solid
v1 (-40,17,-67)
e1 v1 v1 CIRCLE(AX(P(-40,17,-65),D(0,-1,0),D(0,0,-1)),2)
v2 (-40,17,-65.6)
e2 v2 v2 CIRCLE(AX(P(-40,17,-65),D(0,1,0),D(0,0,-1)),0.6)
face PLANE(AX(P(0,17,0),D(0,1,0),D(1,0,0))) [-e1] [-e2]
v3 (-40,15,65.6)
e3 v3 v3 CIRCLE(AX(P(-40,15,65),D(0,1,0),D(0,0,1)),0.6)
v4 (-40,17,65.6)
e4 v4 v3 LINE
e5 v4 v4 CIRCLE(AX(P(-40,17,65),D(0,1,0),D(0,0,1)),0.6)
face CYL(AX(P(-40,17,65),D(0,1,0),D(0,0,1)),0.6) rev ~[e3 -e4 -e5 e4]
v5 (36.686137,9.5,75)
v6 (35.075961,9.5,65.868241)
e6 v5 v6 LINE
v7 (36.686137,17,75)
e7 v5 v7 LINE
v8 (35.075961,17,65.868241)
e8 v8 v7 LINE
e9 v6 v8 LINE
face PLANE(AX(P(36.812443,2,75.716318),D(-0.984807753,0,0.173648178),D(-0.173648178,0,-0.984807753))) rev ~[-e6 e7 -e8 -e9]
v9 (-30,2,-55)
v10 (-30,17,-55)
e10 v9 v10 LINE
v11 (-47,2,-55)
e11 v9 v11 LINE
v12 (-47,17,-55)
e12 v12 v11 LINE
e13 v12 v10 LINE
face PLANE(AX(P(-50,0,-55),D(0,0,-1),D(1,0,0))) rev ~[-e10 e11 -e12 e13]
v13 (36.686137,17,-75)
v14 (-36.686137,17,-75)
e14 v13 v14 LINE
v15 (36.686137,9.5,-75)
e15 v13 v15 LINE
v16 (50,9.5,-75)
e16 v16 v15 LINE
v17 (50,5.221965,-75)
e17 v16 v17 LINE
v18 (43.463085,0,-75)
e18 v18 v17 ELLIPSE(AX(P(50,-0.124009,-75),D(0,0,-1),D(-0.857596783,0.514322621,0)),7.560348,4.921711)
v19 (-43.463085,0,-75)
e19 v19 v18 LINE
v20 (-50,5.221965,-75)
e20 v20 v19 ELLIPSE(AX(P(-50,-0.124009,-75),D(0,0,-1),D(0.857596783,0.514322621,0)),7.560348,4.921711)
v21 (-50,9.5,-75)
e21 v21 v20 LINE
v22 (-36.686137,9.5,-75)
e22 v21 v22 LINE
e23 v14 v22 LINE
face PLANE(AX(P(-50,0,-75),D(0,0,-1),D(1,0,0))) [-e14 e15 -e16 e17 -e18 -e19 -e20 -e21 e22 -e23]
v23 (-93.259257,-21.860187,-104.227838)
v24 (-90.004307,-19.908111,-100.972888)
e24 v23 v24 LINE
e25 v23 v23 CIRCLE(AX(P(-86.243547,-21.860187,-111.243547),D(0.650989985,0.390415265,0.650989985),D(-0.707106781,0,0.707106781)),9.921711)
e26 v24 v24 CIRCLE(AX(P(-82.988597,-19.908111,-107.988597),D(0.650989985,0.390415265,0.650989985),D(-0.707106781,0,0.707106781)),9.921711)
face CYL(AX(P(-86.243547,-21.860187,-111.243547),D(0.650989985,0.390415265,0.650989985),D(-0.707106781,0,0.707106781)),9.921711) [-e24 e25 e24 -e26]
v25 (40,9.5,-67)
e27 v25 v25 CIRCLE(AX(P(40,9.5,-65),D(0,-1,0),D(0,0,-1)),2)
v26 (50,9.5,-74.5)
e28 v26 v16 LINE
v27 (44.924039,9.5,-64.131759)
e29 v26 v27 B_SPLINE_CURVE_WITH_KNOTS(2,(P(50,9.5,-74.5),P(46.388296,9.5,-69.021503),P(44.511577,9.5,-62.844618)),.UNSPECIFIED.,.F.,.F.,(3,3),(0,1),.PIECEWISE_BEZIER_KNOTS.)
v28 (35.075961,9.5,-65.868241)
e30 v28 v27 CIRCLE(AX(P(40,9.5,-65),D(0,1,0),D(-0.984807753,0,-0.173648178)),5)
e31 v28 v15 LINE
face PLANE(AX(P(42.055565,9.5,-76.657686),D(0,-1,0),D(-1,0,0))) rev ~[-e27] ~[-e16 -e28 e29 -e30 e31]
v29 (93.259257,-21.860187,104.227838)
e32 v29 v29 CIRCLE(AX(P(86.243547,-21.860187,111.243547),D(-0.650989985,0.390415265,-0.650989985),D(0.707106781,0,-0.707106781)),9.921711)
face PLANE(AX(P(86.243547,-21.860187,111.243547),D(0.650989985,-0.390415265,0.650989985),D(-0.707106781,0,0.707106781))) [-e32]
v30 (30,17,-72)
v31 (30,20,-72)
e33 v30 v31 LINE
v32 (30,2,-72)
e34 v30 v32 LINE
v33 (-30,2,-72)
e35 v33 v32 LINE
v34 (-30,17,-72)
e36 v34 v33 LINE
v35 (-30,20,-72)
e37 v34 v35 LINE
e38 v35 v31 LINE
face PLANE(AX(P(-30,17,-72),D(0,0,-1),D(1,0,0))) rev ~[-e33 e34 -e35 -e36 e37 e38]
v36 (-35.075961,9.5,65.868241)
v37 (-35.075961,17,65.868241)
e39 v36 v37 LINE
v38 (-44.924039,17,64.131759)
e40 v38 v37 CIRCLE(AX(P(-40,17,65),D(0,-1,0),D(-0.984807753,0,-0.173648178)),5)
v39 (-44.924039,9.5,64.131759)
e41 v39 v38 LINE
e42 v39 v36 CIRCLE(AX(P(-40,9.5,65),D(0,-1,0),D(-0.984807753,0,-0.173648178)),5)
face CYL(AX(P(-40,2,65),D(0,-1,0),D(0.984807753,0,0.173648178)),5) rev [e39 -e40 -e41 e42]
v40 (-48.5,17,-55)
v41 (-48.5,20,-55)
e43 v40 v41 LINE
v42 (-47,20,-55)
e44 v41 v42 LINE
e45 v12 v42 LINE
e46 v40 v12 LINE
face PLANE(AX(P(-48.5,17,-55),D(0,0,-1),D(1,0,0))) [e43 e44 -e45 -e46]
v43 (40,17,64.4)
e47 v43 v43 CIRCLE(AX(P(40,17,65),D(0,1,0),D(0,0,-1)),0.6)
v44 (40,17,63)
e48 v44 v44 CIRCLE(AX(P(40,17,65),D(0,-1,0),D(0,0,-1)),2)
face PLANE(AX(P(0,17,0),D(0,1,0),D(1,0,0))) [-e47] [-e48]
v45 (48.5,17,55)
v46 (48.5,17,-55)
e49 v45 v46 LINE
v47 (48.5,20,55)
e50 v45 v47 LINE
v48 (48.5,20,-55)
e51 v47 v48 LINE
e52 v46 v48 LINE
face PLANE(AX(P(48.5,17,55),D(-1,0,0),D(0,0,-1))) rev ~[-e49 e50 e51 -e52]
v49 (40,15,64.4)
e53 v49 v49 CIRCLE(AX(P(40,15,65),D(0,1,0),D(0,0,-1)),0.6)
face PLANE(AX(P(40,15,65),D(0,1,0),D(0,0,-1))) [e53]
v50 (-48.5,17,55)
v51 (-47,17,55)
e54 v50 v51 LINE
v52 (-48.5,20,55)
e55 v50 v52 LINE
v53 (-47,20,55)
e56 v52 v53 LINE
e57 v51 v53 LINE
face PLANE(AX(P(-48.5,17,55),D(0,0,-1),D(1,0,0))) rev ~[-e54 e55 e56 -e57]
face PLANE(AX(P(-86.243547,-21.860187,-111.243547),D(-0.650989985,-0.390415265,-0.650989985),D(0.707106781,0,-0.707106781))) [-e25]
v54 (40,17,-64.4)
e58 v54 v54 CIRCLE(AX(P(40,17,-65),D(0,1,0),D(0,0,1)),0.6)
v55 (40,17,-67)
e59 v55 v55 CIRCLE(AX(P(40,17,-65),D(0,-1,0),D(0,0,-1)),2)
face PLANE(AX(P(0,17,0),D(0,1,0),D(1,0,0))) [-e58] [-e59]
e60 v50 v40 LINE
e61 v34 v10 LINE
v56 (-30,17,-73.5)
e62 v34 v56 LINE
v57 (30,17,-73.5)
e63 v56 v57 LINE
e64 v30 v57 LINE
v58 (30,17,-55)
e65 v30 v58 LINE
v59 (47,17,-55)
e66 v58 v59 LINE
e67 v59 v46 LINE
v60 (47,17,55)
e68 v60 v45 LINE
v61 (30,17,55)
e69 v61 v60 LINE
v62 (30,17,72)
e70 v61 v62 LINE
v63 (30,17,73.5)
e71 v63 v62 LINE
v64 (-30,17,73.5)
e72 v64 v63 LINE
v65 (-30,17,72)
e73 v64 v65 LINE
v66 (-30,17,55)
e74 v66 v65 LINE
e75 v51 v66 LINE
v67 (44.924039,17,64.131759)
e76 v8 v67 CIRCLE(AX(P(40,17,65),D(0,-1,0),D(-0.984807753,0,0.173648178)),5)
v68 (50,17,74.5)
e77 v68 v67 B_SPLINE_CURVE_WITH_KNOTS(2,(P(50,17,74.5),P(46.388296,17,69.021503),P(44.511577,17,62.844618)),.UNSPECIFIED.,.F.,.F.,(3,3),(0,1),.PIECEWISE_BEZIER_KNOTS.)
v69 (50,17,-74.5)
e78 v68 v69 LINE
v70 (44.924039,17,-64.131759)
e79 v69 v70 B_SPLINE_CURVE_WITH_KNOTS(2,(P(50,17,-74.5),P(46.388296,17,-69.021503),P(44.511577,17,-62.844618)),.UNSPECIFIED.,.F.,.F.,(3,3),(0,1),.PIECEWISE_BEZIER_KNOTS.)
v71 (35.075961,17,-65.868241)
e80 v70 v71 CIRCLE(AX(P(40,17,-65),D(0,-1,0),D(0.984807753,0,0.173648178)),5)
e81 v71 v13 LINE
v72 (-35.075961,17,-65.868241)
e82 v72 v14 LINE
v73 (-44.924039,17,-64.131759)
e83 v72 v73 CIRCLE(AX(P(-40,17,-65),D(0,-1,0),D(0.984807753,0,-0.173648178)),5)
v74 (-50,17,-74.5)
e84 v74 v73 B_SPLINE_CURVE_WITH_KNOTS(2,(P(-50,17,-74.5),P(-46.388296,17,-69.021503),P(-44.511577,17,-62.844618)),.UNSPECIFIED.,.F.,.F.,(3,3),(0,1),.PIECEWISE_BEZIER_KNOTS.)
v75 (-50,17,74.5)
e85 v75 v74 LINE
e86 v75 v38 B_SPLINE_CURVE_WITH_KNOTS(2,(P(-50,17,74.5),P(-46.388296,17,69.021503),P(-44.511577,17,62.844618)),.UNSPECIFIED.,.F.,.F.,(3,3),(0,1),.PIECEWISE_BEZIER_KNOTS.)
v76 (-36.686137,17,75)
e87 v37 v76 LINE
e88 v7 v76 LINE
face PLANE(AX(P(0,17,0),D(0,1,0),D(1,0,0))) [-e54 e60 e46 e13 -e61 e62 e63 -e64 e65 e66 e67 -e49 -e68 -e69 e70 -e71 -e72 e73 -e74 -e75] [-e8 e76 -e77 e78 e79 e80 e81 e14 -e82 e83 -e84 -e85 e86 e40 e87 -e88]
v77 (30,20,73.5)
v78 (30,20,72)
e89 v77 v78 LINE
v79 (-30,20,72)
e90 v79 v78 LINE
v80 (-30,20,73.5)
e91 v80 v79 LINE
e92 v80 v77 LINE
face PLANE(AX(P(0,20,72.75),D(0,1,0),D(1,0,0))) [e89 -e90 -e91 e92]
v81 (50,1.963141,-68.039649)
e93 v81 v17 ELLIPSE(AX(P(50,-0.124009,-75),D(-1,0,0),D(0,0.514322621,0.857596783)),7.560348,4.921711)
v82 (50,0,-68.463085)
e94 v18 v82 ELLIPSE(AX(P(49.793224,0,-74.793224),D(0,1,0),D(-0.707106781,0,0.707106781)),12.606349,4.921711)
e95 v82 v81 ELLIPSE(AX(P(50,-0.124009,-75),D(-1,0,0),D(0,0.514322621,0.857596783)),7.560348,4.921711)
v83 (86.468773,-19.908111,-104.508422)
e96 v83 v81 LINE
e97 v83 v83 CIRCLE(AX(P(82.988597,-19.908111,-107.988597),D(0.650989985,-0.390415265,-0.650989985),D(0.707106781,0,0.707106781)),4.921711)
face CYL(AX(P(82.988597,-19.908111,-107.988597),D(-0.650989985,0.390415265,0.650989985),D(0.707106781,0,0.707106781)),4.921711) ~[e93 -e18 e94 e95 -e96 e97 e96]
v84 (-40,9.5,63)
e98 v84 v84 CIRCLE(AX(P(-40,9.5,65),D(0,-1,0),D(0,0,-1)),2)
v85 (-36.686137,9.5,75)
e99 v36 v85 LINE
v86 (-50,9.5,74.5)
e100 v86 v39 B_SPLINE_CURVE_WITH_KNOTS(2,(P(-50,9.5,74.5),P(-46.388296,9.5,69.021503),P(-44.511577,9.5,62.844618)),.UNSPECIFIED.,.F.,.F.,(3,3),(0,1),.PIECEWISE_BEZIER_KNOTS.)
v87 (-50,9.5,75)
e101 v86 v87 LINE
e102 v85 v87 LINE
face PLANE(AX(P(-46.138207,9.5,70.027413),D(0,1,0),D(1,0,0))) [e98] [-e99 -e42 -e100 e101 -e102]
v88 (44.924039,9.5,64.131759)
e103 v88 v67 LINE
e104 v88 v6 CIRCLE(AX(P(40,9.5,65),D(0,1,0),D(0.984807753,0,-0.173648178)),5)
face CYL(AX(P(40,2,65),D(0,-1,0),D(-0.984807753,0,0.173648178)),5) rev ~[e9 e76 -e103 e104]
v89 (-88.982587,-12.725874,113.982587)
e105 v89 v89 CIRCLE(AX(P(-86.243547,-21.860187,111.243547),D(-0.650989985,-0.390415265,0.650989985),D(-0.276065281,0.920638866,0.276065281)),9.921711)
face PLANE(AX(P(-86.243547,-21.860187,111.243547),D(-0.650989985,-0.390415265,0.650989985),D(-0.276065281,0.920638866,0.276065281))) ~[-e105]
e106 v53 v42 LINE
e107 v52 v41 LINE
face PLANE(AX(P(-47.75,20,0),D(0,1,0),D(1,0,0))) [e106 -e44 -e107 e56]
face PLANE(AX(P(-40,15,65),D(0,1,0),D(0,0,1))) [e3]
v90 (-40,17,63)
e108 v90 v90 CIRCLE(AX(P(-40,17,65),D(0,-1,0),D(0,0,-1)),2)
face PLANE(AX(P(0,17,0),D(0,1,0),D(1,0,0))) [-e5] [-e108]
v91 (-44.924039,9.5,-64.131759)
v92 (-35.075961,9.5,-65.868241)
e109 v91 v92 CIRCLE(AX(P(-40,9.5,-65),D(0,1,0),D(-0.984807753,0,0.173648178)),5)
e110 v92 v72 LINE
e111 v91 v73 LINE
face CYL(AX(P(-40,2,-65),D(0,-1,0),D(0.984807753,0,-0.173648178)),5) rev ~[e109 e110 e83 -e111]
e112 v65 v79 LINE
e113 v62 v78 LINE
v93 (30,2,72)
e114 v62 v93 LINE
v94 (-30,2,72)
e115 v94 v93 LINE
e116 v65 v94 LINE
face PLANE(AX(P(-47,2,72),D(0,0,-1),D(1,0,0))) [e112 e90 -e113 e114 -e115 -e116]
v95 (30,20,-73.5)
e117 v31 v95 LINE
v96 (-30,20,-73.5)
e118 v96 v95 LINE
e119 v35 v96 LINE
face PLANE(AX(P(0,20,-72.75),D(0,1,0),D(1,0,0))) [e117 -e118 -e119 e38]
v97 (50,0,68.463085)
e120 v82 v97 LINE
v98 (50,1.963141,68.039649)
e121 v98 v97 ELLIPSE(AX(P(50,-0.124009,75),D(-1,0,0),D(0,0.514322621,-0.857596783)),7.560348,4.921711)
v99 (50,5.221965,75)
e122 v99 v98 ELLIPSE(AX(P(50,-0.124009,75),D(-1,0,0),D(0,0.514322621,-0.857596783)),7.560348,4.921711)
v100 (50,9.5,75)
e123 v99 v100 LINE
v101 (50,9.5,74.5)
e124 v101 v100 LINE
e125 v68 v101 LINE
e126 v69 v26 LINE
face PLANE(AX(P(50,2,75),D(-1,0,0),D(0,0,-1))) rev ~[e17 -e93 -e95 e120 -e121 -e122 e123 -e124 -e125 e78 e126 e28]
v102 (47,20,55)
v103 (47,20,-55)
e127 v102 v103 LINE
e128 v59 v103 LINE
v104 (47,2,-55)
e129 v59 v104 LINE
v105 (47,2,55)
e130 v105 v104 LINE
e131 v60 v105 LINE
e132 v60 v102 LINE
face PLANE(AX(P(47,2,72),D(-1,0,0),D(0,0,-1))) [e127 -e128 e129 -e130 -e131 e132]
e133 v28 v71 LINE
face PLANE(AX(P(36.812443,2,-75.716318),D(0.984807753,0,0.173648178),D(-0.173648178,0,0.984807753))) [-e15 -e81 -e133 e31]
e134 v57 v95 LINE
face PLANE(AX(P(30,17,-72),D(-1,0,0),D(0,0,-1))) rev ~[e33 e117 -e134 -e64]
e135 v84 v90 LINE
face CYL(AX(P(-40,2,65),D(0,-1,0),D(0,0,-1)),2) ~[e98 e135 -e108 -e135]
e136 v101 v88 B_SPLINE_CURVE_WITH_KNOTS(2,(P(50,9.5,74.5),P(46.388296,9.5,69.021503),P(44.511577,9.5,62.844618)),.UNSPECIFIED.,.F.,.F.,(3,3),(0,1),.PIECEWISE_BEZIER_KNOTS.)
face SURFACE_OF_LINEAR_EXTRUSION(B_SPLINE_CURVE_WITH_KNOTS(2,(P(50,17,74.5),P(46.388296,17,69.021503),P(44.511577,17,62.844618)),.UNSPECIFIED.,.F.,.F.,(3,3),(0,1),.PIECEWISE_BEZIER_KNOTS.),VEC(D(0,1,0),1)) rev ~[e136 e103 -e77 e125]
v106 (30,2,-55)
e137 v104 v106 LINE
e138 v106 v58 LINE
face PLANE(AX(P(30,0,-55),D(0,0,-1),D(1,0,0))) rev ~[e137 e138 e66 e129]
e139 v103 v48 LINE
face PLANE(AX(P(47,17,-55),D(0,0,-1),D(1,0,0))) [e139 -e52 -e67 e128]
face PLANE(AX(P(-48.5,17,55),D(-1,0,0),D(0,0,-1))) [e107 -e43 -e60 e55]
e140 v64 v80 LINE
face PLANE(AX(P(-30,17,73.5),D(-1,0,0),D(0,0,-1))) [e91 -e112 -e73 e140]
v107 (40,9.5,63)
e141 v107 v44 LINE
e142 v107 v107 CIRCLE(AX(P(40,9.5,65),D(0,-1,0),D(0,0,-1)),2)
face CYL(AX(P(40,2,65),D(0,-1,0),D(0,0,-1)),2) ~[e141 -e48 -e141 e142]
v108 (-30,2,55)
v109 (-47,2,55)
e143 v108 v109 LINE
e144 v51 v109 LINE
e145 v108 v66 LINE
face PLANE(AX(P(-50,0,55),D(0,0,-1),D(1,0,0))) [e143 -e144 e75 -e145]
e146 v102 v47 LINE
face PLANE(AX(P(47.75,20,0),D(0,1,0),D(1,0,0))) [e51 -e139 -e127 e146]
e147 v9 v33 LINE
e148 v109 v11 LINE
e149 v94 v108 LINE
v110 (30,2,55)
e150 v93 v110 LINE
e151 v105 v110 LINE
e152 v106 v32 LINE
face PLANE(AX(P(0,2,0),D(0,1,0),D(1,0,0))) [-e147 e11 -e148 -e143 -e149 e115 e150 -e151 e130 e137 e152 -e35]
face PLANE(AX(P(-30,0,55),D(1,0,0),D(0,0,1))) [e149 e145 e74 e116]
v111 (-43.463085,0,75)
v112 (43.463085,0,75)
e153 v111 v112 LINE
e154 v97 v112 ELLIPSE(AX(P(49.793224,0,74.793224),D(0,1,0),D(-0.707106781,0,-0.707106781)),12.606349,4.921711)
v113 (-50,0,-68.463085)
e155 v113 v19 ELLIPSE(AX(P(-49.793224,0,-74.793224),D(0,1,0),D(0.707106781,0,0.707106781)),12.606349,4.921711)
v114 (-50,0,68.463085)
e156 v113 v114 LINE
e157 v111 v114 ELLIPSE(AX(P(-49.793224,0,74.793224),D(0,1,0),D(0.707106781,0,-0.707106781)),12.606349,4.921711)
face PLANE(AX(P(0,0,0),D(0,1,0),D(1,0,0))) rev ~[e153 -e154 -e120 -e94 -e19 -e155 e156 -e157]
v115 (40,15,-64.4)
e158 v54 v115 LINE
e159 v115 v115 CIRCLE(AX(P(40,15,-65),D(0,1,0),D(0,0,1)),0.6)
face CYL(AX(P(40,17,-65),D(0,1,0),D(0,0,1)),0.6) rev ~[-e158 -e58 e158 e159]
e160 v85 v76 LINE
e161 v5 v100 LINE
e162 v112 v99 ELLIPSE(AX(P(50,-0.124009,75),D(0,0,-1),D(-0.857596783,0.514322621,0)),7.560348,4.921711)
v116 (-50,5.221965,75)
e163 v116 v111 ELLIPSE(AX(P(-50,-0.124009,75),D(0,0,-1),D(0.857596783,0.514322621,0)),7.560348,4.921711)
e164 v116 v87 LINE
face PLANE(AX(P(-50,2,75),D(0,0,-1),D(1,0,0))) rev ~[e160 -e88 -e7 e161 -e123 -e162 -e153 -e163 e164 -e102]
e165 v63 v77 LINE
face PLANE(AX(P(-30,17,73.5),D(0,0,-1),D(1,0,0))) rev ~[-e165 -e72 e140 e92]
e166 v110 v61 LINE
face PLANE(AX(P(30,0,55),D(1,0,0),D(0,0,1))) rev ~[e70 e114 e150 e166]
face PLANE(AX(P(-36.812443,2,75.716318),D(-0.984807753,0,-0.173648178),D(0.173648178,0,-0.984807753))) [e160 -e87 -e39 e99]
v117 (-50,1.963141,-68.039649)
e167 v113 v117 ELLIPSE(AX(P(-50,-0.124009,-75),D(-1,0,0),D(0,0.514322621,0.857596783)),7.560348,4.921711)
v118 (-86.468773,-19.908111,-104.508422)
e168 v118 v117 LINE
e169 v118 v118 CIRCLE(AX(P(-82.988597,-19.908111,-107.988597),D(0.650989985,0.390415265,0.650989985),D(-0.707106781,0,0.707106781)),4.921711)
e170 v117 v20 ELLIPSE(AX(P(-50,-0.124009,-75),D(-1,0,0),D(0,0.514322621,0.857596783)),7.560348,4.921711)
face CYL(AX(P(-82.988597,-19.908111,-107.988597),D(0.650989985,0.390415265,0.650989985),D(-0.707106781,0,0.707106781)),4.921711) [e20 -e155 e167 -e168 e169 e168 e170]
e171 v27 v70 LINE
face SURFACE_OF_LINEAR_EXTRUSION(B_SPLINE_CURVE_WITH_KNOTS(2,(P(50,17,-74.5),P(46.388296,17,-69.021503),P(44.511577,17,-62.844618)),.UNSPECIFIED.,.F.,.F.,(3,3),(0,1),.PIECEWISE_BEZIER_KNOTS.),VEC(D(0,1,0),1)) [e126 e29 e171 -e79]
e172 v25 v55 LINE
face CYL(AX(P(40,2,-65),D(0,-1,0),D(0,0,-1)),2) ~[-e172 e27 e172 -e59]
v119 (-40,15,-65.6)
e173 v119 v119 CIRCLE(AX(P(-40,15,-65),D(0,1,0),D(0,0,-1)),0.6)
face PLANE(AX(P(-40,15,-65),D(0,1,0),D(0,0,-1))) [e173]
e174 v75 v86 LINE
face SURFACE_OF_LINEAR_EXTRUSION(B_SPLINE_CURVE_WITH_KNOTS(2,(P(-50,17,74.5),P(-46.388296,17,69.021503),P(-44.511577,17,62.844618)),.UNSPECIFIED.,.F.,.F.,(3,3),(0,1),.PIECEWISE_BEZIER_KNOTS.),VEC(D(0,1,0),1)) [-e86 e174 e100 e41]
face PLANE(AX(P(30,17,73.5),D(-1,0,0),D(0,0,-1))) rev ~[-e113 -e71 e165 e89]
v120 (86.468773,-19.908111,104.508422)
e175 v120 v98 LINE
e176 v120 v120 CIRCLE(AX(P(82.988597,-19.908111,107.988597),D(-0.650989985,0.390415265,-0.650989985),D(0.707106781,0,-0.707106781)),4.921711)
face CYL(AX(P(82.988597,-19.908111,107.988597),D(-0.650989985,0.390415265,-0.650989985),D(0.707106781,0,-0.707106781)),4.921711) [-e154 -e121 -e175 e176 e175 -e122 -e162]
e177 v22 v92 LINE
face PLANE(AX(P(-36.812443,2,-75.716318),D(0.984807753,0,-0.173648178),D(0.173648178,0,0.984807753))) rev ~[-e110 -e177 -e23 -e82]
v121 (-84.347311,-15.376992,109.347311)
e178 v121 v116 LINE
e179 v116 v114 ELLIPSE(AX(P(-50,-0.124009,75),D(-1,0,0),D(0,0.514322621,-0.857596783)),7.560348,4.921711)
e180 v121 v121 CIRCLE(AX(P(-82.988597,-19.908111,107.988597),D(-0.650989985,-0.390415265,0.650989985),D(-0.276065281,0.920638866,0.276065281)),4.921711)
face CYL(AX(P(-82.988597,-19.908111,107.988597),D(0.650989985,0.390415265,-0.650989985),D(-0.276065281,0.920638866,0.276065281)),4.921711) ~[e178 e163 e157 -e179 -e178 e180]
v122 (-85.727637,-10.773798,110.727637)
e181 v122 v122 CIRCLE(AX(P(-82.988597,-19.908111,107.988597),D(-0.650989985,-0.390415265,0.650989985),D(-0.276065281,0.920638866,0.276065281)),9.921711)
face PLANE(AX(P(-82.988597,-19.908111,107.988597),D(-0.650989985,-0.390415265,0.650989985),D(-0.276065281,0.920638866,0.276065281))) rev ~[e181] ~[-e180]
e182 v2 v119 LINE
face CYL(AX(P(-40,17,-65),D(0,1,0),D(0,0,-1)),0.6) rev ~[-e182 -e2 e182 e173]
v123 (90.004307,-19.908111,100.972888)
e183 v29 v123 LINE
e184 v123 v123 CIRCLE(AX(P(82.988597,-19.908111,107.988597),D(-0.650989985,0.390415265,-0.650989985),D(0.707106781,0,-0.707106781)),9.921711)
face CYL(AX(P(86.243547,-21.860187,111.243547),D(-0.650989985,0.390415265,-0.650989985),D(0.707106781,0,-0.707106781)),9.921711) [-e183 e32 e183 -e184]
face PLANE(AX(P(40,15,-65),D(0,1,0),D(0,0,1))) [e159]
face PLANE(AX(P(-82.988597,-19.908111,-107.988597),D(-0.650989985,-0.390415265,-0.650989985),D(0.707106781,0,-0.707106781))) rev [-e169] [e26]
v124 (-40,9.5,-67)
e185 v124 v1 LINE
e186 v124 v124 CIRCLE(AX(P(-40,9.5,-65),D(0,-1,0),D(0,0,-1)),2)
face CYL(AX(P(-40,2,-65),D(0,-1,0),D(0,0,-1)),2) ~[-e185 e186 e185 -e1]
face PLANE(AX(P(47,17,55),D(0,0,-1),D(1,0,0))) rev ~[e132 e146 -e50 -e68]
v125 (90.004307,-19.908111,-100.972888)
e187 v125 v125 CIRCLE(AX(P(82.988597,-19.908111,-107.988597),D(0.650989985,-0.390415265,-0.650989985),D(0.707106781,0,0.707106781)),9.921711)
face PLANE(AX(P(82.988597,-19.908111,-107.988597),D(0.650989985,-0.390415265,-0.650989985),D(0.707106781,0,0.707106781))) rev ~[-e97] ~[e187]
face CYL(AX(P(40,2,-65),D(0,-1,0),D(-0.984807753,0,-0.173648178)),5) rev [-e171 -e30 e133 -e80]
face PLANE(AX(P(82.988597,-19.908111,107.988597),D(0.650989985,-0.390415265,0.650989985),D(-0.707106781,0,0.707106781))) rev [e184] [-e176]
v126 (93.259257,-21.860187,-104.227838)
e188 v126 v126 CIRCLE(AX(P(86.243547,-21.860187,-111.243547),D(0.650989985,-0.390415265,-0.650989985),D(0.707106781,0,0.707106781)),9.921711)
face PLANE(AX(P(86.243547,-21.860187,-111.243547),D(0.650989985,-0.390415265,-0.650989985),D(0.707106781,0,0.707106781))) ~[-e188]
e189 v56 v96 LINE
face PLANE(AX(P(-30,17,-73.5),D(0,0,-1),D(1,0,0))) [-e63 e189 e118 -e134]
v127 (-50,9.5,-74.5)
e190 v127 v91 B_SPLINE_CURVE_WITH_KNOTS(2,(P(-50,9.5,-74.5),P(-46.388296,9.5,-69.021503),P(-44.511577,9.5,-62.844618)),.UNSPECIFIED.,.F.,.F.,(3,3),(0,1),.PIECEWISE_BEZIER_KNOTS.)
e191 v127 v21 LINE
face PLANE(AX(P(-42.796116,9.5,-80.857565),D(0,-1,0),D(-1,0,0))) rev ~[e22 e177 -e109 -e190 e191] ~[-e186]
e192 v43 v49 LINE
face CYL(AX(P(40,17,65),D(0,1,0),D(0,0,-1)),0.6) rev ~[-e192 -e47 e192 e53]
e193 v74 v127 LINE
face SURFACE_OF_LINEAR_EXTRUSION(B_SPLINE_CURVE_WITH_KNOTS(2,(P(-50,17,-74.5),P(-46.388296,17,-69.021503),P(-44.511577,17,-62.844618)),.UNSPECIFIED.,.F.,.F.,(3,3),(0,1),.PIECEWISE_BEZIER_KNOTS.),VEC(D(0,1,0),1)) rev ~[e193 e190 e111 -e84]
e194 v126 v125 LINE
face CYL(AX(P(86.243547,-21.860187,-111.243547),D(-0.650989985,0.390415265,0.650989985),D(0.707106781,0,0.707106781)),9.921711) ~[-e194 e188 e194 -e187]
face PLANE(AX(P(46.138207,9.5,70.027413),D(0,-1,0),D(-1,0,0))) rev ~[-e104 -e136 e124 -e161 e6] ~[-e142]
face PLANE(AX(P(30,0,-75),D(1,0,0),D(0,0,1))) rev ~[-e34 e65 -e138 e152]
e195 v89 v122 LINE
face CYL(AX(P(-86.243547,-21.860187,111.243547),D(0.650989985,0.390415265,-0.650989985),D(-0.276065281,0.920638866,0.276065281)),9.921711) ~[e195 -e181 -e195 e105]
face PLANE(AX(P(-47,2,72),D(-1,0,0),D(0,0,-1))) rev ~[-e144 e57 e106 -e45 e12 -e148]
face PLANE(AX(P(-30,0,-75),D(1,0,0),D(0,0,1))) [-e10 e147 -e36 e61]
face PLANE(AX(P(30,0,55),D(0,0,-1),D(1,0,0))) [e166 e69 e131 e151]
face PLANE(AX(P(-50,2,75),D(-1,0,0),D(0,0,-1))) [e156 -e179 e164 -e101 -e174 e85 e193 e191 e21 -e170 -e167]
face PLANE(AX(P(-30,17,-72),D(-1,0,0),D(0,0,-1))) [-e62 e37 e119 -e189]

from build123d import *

# Parameters (mm, degrees)
CROQUIS1_W              = 100
CROQUIS1_H              = 150
SALIENTE_EXTRUIR1_DEPTH = 2
CROQUIS5_W              = 100
CROQUIS5_H              = 150
CROQUIS5_W_2            = 94
CROQUIS5_H_2            = 144
SALIENTE_EXTRUIR3_DEPTH = 15
CROQUIS6_W              = 20
CROQUIS6_H              = 20
SALIENTE_EXTRUIR4_DEPTH = 17
CROQUIS4_R              = 2
CORTAR_EXTRUIR2_DEPTH   = 92.378334412
SALIENTE_EXTRUIR5_DEPTH = 7.5
CROQUIS8_W              = 127.938872722
CROQUIS8_H              = 211.588515632
CROQUIS8_W_2            = 100
CROQUIS8_H_2            = 150
CORTAR_EXTRUIR3_DEPTH   = 115.867495711
CORTAR_EXTRUIR4_DEPTH   = 7.5
CROQUIS10_W             = 60
CROQUIS10_H             = 1.5
CROQUIS10_W_2           = 1.5
CROQUIS10_H_2           = 110
SALIENTE_EXTRUIR6_DEPTH = 3
CROQUIS12_R             = 0.6
CORTAR_EXTRUIR5_DEPTH   = 2
CORTAR_EXTRUIR7_DEPTH   = 157.655827733


with BuildPart() as part:
    # Croquis1 → Saliente-Extruir1 (new body)
    with BuildSketch(Plane(origin=(0, 0, 0), x_dir=(1, 0, 0), z_dir=(0, 1, 0))):
        Rectangle(CROQUIS1_W, CROQUIS1_H)
    extrude(amount=SALIENTE_EXTRUIR1_DEPTH)

    # Croquis5 → Saliente-Extruir3 (add)
    with BuildSketch(Plane(origin=(0, 2, 0), x_dir=(1, 0, 0), z_dir=(0, 1, 0))):
        Rectangle(CROQUIS5_W, CROQUIS5_H)
        Rectangle(CROQUIS5_W_2, CROQUIS5_H_2, mode=Mode.SUBTRACT)
    extrude(amount=SALIENTE_EXTRUIR3_DEPTH)

    # Croquis6 → Saliente-Extruir4 (add)
    with BuildSketch(Plane.XZ):
        with Locations((-40, 65)):
            Rectangle(CROQUIS6_W, CROQUIS6_H)
        with Locations((-40, -65)):
            Rectangle(CROQUIS6_W, CROQUIS6_H)
        with Locations((40, -65)):
            Rectangle(CROQUIS6_W, CROQUIS6_H)
        with Locations((40, 65)):
            Rectangle(CROQUIS6_W, CROQUIS6_H)
    extrude(amount=-SALIENTE_EXTRUIR4_DEPTH)

    # Croquis4 → Cortar-Extruir2 (cut, through all)
    # profile 1 of 4: a face of its own
    with BuildSketch(Plane(origin=(0, 2, 0), x_dir=(1, 0, 0), z_dir=(0, 1, 0))):
        with BuildLine():
            Line((-44.924038765, 64.131759112), (-46.660520542, 73.979836642))
            ThreePointArc((-46.660520542, 73.979836642), (-42.604722665, 79.772116295), (-36.812443012, 75.716318418))
            Line((-36.812443012, 75.716318418), (-35.075961235, 65.868240888))
            ThreePointArc((-35.075961235, 65.868240888), (-39.131759112, 60.075961235), (-44.924038765, 64.131759112))
        make_face()
        with Locations(Location((-40, 65, 0), (0, 0, 90))):
            Circle(CROQUIS4_R, mode=Mode.SUBTRACT)
    # profile 2 of 4: a face of its own
    with BuildSketch(Plane(origin=(0, 2, 0), x_dir=(1, 0, 0), z_dir=(0, 1, 0))):
        with BuildLine():
            Line((44.924038765, -64.131759112), (46.660520542, -73.979836642))
            ThreePointArc((46.660520542, -73.979836642), (42.604722665, -79.772116295), (36.812443012, -75.716318418))
            Line((36.812443012, -75.716318418), (35.075961235, -65.868240888))
            ThreePointArc((35.075961235, -65.868240888), (39.131759112, -60.075961235), (44.924038765, -64.131759112))
        make_face()
        with Locations(Location((40, -65, 0), (0, 0, 90))):
            Circle(CROQUIS4_R, mode=Mode.SUBTRACT)
    # profile 3 of 4: a face of its own
    with BuildSketch(Plane(origin=(0, 2, 0), x_dir=(1, 0, 0), z_dir=(0, 1, 0))):
        with BuildLine():
            Line((44.924038765, 64.131759112), (46.660520542, 73.979836642))
            ThreePointArc((46.660520542, 73.979836642), (42.604722665, 79.772116295), (36.812443012, 75.716318418))
            Line((36.812443012, 75.716318418), (35.075961235, 65.868240888))
            ThreePointArc((35.075961235, 65.868240888), (39.131759112, 60.075961235), (44.924038765, 64.131759112))
        make_face()
        with Locations(Location((40, 65, 0), (0, 0, 90))):
            Circle(CROQUIS4_R, mode=Mode.SUBTRACT)
    # profile 4 of 4: a face of its own
    with BuildSketch(Plane(origin=(0, 2, 0), x_dir=(1, 0, 0), z_dir=(0, 1, 0))):
        with BuildLine():
            Line((-44.924038765, -64.131759112), (-46.660520542, -73.979836642))
            ThreePointArc((-46.660520542, -73.979836642), (-42.604722665, -79.772116295), (-36.812443012, -75.716318418))
            Line((-36.812443012, -75.716318418), (-35.075961235, -65.868240888))
            ThreePointArc((-35.075961235, -65.868240888), (-39.131759112, -60.075961235), (-44.924038765, -64.131759112))
        make_face()
        with Locations(Location((-40, -65, 0), (0, 0, 90))):
            Circle(CROQUIS4_R, mode=Mode.SUBTRACT)
    extrude(amount=CORTAR_EXTRUIR2_DEPTH, mode=Mode.SUBTRACT)

    # Croquis7 → Saliente-Extruir5 (add)
    with BuildSketch(Plane(origin=(0, 2, 0), x_dir=(1, 0, 0), z_dir=(0, 1, 0))):
        with BuildLine():
            Line((35.075961235, 65.868240888), (39.187090394, 89.183612944))
            ThreePointArc((39.187090394, 89.183612944), (44.979370047, 93.239410821), (49.035167924, 87.447131167))
            Line((49.035167924, 87.447131167), (44.924038765, 64.131759112))
            ThreePointArc((44.924038765, 64.131759112), (39.131759112, 60.075961235), (35.075961235, 65.868240888))
        make_face()
        with BuildLine():
            Line((-44.924038765, 64.131759112), (-50.51627176, 95.846888427))
            ThreePointArc((-50.51627176, 95.846888427), (-46.460473883, 101.63916808), (-40.66819423, 97.583370203))
            Line((-40.66819423, 97.583370203), (-35.075961235, 65.868240888))
            ThreePointArc((-35.075961235, 65.868240888), (-39.131759112, 60.075961235), (-44.924038765, 64.131759112))
        make_face()
        with BuildLine():
            Line((-35.075961235, -65.868240888), (-36.812443012, -75.716318418))
            ThreePointArc((-36.812443012, -75.716318418), (-42.604722665, -79.772116295), (-46.660520542, -73.979836642))
            Line((-46.660520542, -73.979836642), (-44.924038765, -64.131759112))
            ThreePointArc((-44.924038765, -64.131759112), (-39.131759112, -60.075961235), (-35.075961235, -65.868240888))
        make_face()
        with BuildLine():
            Line((44.924038765, -64.131759112), (47.53565731, -78.942983887))
            ThreePointArc((47.53565731, -78.942983887), (43.479859434, -84.73526354), (37.68757978, -80.679465664))
            Line((37.68757978, -80.679465664), (35.075961235, -65.868240888))
            ThreePointArc((35.075961235, -65.868240888), (39.131759112, -60.075961235), (44.924038765, -64.131759112))
        make_face()
    extrude(amount=SALIENTE_EXTRUIR5_DEPTH)

    # Croquis8 → Cortar-Extruir3 (cut, through all)
    with BuildSketch(Plane.XZ):
        Rectangle(CROQUIS8_W, CROQUIS8_H)
        Rectangle(CROQUIS8_W_2, CROQUIS8_H_2, mode=Mode.SUBTRACT)
    extrude(amount=-CORTAR_EXTRUIR3_DEPTH, mode=Mode.SUBTRACT)

    # Croquis9 → Cortar-Extruir4 (cut)
    with BuildSketch(Plane(origin=(0, 17, 0), x_dir=(1, 0, 0), z_dir=(0, 1, 0))):
        with BuildLine():
            Line((-50, -74.5), (-50, -75))
            Line((-50, -75), (-44.511576947, -75))
            Line((-44.511576947, -75), (-44.511576947, -62.844617563))
            add(Edge.make_bspline(
                [(-50, -74.5), (-46.388295921, -69.021503378), (-44.511576947, -62.844617563)],
                knots=[0, 0, 0, 1, 1, 1], degree=2))
        make_face()
        with BuildLine():
            Line((50, -75), (44.511576947, -75))
            Line((44.511576947, -75), (44.511576947, -62.844617563))
            add(Edge.make_bspline(
                [(50, -74.5), (46.388295921, -69.021503378), (44.511576947, -62.844617563)],
                knots=[0, 0, 0, 1, 1, 1], degree=2))
            Line((50, -74.5), (50, -75))
        make_face()
        with BuildLine():
            Line((-50, 75), (-44.511576947, 75))
            Line((-44.511576947, 75), (-44.511576947, 62.844617563))
            add(Edge.make_bspline(
                [(-50, 74.5), (-46.388295921, 69.021503378), (-44.511576947, 62.844617563)],
                knots=[0, 0, 0, 1, 1, 1], degree=2))
            Line((-50, 74.5), (-50, 75))
        make_face()
        with BuildLine():
            Line((50, 75), (44.511576947, 75))
            Line((44.511576947, 75), (44.511576947, 62.844617563))
            add(Edge.make_bspline(
                [(50, 74.5), (46.388295921, 69.021503378), (44.511576947, 62.844617563)],
                knots=[0, 0, 0, 1, 1, 1], degree=2))
            Line((50, 74.5), (50, 75))
        make_face()
    extrude(amount=-CORTAR_EXTRUIR4_DEPTH, mode=Mode.SUBTRACT)

    # Croquis10 → Saliente-Extruir6 (add)
    with BuildSketch(Plane(origin=(0, 17, 0), x_dir=(1, 0, 0), z_dir=(0, 1, 0))):
        with Locations((0, 72.75)):
            Rectangle(CROQUIS10_W, CROQUIS10_H)
        with Locations((0, -72.75)):
            Rectangle(CROQUIS10_W, CROQUIS10_H)
        with Locations((-47.75, 0)):
            Rectangle(CROQUIS10_W_2, CROQUIS10_H_2)
        with Locations((47.75, 0)):
            Rectangle(CROQUIS10_W_2, CROQUIS10_H_2)
    extrude(amount=SALIENTE_EXTRUIR6_DEPTH)

    # Croquis12 → Cortar-Extruir5 (cut)
    with BuildSketch(Plane(origin=(0, 17, 0), x_dir=(1, 0, 0), z_dir=(0, 1, 0))):
        with Locations(Location((-40, -65, 0), (0, 0, 270))):
            Circle(CROQUIS12_R)
        with Locations(Location((-40, 65, 0), (0, 0, 90))):
            Circle(CROQUIS12_R)
        with Locations(Location((40, 65, 0), (0, 0, 270))):
            Circle(CROQUIS12_R)
        with Locations(Location((40, -65, 0), (0, 0, 90))):
            Circle(CROQUIS12_R)
    extrude(amount=-CORTAR_EXTRUIR5_DEPTH, mode=Mode.SUBTRACT)

    # Croquis17 → Revolución4 (revolve)
    with BuildSketch(Plane(origin=(-12.5, 0, -12.5), x_dir=(-0.7071067811865475, 0, 0.7071067811865476), z_dir=(-0.7071067811865476, 0, -0.7071067811865475)), mode=Mode.PRIVATE) as revoluci_n4_sk:
        Polygon((-74.388347648, 5.812970012), (-139.644463954, -21.860187069), (-143.51805142, -12.725874225), (-138.914857092, -10.773797899), (-136.962780767, -15.376992227), (-77.121254504, 10), align=None)
    revoluci_n4 = revolve(revoluci_n4_sk.sketch.rotate(Axis((40.100505063, 5.812970012, -65.100505063), (0.6509899848797962, -0.3904152650350718, -0.6509899848797963)), 90), axis=Axis((40.100505063, 5.812970012, -65.100505063), (0.6509899848797962, -0.3904152650350718, -0.6509899848797963)))

    # Simetría4: Revolución4 across plane
    add(revoluci_n4.mirror(Plane.XY))

    # Simetría5: Revolución4 across plane
    add(revoluci_n4.mirror(Plane(origin=(0, 0, 0), x_dir=(0, 0, 1), z_dir=(1, 0, 0))))

    # Simetría5 copy 1 sketch → Simetría5 copy 1 (revolve)
    with BuildSketch(Plane(origin=(12.5, 0, 12.5), x_dir=(0.7071067811865475, 0, -0.7071067811865476), z_dir=(0.7071067811865476, 0, 0.7071067811865475))):
        Polygon((-74.388347648, 5.812970012), (-139.644463954, -21.860187069), (-143.51805142, -12.725874225), (-138.914857092, -10.773797899), (-136.962780767, -15.376992227), (-77.121254504, 10), align=None)
    revolve(axis=Axis((-40.100505063, 5.812970012, 65.100505063), (-0.6509899848797962, -0.3904152650350718, 0.6509899848797963)))

    # Croquis19 → Cortar-Extruir7 (cut, through all)
    with BuildSketch(Plane(origin=(0, 9.5, 0), x_dir=(1, 0, 0), z_dir=(0, 1, 0))):
        Polygon((-43.417017803, -64.899000462), (-39.692445235, -68.264184449), (-41.99457515, -70.812172899), (-45.719147718, -67.446988912), align=None)
        Polygon((39.692445235, -68.264184449), (41.99457515, -70.812172899), (45.719147718, -67.446988912), (43.417017803, -64.899000462), align=None)
        Polygon((43.417017803, 64.899000462), (39.692445235, 68.264184449), (41.99457515, 70.812172899), (45.719147718, 67.446988912), align=None)
        Polygon((-39.692445235, 68.264184449), (-41.99457515, 70.812172899), (-45.719147718, 67.446988912), (-43.417017803, 64.899000462), align=None)
    extrude(amount=CORTAR_EXTRUIR7_DEPTH, mode=Mode.SUBTRACT)


solid = part.part
